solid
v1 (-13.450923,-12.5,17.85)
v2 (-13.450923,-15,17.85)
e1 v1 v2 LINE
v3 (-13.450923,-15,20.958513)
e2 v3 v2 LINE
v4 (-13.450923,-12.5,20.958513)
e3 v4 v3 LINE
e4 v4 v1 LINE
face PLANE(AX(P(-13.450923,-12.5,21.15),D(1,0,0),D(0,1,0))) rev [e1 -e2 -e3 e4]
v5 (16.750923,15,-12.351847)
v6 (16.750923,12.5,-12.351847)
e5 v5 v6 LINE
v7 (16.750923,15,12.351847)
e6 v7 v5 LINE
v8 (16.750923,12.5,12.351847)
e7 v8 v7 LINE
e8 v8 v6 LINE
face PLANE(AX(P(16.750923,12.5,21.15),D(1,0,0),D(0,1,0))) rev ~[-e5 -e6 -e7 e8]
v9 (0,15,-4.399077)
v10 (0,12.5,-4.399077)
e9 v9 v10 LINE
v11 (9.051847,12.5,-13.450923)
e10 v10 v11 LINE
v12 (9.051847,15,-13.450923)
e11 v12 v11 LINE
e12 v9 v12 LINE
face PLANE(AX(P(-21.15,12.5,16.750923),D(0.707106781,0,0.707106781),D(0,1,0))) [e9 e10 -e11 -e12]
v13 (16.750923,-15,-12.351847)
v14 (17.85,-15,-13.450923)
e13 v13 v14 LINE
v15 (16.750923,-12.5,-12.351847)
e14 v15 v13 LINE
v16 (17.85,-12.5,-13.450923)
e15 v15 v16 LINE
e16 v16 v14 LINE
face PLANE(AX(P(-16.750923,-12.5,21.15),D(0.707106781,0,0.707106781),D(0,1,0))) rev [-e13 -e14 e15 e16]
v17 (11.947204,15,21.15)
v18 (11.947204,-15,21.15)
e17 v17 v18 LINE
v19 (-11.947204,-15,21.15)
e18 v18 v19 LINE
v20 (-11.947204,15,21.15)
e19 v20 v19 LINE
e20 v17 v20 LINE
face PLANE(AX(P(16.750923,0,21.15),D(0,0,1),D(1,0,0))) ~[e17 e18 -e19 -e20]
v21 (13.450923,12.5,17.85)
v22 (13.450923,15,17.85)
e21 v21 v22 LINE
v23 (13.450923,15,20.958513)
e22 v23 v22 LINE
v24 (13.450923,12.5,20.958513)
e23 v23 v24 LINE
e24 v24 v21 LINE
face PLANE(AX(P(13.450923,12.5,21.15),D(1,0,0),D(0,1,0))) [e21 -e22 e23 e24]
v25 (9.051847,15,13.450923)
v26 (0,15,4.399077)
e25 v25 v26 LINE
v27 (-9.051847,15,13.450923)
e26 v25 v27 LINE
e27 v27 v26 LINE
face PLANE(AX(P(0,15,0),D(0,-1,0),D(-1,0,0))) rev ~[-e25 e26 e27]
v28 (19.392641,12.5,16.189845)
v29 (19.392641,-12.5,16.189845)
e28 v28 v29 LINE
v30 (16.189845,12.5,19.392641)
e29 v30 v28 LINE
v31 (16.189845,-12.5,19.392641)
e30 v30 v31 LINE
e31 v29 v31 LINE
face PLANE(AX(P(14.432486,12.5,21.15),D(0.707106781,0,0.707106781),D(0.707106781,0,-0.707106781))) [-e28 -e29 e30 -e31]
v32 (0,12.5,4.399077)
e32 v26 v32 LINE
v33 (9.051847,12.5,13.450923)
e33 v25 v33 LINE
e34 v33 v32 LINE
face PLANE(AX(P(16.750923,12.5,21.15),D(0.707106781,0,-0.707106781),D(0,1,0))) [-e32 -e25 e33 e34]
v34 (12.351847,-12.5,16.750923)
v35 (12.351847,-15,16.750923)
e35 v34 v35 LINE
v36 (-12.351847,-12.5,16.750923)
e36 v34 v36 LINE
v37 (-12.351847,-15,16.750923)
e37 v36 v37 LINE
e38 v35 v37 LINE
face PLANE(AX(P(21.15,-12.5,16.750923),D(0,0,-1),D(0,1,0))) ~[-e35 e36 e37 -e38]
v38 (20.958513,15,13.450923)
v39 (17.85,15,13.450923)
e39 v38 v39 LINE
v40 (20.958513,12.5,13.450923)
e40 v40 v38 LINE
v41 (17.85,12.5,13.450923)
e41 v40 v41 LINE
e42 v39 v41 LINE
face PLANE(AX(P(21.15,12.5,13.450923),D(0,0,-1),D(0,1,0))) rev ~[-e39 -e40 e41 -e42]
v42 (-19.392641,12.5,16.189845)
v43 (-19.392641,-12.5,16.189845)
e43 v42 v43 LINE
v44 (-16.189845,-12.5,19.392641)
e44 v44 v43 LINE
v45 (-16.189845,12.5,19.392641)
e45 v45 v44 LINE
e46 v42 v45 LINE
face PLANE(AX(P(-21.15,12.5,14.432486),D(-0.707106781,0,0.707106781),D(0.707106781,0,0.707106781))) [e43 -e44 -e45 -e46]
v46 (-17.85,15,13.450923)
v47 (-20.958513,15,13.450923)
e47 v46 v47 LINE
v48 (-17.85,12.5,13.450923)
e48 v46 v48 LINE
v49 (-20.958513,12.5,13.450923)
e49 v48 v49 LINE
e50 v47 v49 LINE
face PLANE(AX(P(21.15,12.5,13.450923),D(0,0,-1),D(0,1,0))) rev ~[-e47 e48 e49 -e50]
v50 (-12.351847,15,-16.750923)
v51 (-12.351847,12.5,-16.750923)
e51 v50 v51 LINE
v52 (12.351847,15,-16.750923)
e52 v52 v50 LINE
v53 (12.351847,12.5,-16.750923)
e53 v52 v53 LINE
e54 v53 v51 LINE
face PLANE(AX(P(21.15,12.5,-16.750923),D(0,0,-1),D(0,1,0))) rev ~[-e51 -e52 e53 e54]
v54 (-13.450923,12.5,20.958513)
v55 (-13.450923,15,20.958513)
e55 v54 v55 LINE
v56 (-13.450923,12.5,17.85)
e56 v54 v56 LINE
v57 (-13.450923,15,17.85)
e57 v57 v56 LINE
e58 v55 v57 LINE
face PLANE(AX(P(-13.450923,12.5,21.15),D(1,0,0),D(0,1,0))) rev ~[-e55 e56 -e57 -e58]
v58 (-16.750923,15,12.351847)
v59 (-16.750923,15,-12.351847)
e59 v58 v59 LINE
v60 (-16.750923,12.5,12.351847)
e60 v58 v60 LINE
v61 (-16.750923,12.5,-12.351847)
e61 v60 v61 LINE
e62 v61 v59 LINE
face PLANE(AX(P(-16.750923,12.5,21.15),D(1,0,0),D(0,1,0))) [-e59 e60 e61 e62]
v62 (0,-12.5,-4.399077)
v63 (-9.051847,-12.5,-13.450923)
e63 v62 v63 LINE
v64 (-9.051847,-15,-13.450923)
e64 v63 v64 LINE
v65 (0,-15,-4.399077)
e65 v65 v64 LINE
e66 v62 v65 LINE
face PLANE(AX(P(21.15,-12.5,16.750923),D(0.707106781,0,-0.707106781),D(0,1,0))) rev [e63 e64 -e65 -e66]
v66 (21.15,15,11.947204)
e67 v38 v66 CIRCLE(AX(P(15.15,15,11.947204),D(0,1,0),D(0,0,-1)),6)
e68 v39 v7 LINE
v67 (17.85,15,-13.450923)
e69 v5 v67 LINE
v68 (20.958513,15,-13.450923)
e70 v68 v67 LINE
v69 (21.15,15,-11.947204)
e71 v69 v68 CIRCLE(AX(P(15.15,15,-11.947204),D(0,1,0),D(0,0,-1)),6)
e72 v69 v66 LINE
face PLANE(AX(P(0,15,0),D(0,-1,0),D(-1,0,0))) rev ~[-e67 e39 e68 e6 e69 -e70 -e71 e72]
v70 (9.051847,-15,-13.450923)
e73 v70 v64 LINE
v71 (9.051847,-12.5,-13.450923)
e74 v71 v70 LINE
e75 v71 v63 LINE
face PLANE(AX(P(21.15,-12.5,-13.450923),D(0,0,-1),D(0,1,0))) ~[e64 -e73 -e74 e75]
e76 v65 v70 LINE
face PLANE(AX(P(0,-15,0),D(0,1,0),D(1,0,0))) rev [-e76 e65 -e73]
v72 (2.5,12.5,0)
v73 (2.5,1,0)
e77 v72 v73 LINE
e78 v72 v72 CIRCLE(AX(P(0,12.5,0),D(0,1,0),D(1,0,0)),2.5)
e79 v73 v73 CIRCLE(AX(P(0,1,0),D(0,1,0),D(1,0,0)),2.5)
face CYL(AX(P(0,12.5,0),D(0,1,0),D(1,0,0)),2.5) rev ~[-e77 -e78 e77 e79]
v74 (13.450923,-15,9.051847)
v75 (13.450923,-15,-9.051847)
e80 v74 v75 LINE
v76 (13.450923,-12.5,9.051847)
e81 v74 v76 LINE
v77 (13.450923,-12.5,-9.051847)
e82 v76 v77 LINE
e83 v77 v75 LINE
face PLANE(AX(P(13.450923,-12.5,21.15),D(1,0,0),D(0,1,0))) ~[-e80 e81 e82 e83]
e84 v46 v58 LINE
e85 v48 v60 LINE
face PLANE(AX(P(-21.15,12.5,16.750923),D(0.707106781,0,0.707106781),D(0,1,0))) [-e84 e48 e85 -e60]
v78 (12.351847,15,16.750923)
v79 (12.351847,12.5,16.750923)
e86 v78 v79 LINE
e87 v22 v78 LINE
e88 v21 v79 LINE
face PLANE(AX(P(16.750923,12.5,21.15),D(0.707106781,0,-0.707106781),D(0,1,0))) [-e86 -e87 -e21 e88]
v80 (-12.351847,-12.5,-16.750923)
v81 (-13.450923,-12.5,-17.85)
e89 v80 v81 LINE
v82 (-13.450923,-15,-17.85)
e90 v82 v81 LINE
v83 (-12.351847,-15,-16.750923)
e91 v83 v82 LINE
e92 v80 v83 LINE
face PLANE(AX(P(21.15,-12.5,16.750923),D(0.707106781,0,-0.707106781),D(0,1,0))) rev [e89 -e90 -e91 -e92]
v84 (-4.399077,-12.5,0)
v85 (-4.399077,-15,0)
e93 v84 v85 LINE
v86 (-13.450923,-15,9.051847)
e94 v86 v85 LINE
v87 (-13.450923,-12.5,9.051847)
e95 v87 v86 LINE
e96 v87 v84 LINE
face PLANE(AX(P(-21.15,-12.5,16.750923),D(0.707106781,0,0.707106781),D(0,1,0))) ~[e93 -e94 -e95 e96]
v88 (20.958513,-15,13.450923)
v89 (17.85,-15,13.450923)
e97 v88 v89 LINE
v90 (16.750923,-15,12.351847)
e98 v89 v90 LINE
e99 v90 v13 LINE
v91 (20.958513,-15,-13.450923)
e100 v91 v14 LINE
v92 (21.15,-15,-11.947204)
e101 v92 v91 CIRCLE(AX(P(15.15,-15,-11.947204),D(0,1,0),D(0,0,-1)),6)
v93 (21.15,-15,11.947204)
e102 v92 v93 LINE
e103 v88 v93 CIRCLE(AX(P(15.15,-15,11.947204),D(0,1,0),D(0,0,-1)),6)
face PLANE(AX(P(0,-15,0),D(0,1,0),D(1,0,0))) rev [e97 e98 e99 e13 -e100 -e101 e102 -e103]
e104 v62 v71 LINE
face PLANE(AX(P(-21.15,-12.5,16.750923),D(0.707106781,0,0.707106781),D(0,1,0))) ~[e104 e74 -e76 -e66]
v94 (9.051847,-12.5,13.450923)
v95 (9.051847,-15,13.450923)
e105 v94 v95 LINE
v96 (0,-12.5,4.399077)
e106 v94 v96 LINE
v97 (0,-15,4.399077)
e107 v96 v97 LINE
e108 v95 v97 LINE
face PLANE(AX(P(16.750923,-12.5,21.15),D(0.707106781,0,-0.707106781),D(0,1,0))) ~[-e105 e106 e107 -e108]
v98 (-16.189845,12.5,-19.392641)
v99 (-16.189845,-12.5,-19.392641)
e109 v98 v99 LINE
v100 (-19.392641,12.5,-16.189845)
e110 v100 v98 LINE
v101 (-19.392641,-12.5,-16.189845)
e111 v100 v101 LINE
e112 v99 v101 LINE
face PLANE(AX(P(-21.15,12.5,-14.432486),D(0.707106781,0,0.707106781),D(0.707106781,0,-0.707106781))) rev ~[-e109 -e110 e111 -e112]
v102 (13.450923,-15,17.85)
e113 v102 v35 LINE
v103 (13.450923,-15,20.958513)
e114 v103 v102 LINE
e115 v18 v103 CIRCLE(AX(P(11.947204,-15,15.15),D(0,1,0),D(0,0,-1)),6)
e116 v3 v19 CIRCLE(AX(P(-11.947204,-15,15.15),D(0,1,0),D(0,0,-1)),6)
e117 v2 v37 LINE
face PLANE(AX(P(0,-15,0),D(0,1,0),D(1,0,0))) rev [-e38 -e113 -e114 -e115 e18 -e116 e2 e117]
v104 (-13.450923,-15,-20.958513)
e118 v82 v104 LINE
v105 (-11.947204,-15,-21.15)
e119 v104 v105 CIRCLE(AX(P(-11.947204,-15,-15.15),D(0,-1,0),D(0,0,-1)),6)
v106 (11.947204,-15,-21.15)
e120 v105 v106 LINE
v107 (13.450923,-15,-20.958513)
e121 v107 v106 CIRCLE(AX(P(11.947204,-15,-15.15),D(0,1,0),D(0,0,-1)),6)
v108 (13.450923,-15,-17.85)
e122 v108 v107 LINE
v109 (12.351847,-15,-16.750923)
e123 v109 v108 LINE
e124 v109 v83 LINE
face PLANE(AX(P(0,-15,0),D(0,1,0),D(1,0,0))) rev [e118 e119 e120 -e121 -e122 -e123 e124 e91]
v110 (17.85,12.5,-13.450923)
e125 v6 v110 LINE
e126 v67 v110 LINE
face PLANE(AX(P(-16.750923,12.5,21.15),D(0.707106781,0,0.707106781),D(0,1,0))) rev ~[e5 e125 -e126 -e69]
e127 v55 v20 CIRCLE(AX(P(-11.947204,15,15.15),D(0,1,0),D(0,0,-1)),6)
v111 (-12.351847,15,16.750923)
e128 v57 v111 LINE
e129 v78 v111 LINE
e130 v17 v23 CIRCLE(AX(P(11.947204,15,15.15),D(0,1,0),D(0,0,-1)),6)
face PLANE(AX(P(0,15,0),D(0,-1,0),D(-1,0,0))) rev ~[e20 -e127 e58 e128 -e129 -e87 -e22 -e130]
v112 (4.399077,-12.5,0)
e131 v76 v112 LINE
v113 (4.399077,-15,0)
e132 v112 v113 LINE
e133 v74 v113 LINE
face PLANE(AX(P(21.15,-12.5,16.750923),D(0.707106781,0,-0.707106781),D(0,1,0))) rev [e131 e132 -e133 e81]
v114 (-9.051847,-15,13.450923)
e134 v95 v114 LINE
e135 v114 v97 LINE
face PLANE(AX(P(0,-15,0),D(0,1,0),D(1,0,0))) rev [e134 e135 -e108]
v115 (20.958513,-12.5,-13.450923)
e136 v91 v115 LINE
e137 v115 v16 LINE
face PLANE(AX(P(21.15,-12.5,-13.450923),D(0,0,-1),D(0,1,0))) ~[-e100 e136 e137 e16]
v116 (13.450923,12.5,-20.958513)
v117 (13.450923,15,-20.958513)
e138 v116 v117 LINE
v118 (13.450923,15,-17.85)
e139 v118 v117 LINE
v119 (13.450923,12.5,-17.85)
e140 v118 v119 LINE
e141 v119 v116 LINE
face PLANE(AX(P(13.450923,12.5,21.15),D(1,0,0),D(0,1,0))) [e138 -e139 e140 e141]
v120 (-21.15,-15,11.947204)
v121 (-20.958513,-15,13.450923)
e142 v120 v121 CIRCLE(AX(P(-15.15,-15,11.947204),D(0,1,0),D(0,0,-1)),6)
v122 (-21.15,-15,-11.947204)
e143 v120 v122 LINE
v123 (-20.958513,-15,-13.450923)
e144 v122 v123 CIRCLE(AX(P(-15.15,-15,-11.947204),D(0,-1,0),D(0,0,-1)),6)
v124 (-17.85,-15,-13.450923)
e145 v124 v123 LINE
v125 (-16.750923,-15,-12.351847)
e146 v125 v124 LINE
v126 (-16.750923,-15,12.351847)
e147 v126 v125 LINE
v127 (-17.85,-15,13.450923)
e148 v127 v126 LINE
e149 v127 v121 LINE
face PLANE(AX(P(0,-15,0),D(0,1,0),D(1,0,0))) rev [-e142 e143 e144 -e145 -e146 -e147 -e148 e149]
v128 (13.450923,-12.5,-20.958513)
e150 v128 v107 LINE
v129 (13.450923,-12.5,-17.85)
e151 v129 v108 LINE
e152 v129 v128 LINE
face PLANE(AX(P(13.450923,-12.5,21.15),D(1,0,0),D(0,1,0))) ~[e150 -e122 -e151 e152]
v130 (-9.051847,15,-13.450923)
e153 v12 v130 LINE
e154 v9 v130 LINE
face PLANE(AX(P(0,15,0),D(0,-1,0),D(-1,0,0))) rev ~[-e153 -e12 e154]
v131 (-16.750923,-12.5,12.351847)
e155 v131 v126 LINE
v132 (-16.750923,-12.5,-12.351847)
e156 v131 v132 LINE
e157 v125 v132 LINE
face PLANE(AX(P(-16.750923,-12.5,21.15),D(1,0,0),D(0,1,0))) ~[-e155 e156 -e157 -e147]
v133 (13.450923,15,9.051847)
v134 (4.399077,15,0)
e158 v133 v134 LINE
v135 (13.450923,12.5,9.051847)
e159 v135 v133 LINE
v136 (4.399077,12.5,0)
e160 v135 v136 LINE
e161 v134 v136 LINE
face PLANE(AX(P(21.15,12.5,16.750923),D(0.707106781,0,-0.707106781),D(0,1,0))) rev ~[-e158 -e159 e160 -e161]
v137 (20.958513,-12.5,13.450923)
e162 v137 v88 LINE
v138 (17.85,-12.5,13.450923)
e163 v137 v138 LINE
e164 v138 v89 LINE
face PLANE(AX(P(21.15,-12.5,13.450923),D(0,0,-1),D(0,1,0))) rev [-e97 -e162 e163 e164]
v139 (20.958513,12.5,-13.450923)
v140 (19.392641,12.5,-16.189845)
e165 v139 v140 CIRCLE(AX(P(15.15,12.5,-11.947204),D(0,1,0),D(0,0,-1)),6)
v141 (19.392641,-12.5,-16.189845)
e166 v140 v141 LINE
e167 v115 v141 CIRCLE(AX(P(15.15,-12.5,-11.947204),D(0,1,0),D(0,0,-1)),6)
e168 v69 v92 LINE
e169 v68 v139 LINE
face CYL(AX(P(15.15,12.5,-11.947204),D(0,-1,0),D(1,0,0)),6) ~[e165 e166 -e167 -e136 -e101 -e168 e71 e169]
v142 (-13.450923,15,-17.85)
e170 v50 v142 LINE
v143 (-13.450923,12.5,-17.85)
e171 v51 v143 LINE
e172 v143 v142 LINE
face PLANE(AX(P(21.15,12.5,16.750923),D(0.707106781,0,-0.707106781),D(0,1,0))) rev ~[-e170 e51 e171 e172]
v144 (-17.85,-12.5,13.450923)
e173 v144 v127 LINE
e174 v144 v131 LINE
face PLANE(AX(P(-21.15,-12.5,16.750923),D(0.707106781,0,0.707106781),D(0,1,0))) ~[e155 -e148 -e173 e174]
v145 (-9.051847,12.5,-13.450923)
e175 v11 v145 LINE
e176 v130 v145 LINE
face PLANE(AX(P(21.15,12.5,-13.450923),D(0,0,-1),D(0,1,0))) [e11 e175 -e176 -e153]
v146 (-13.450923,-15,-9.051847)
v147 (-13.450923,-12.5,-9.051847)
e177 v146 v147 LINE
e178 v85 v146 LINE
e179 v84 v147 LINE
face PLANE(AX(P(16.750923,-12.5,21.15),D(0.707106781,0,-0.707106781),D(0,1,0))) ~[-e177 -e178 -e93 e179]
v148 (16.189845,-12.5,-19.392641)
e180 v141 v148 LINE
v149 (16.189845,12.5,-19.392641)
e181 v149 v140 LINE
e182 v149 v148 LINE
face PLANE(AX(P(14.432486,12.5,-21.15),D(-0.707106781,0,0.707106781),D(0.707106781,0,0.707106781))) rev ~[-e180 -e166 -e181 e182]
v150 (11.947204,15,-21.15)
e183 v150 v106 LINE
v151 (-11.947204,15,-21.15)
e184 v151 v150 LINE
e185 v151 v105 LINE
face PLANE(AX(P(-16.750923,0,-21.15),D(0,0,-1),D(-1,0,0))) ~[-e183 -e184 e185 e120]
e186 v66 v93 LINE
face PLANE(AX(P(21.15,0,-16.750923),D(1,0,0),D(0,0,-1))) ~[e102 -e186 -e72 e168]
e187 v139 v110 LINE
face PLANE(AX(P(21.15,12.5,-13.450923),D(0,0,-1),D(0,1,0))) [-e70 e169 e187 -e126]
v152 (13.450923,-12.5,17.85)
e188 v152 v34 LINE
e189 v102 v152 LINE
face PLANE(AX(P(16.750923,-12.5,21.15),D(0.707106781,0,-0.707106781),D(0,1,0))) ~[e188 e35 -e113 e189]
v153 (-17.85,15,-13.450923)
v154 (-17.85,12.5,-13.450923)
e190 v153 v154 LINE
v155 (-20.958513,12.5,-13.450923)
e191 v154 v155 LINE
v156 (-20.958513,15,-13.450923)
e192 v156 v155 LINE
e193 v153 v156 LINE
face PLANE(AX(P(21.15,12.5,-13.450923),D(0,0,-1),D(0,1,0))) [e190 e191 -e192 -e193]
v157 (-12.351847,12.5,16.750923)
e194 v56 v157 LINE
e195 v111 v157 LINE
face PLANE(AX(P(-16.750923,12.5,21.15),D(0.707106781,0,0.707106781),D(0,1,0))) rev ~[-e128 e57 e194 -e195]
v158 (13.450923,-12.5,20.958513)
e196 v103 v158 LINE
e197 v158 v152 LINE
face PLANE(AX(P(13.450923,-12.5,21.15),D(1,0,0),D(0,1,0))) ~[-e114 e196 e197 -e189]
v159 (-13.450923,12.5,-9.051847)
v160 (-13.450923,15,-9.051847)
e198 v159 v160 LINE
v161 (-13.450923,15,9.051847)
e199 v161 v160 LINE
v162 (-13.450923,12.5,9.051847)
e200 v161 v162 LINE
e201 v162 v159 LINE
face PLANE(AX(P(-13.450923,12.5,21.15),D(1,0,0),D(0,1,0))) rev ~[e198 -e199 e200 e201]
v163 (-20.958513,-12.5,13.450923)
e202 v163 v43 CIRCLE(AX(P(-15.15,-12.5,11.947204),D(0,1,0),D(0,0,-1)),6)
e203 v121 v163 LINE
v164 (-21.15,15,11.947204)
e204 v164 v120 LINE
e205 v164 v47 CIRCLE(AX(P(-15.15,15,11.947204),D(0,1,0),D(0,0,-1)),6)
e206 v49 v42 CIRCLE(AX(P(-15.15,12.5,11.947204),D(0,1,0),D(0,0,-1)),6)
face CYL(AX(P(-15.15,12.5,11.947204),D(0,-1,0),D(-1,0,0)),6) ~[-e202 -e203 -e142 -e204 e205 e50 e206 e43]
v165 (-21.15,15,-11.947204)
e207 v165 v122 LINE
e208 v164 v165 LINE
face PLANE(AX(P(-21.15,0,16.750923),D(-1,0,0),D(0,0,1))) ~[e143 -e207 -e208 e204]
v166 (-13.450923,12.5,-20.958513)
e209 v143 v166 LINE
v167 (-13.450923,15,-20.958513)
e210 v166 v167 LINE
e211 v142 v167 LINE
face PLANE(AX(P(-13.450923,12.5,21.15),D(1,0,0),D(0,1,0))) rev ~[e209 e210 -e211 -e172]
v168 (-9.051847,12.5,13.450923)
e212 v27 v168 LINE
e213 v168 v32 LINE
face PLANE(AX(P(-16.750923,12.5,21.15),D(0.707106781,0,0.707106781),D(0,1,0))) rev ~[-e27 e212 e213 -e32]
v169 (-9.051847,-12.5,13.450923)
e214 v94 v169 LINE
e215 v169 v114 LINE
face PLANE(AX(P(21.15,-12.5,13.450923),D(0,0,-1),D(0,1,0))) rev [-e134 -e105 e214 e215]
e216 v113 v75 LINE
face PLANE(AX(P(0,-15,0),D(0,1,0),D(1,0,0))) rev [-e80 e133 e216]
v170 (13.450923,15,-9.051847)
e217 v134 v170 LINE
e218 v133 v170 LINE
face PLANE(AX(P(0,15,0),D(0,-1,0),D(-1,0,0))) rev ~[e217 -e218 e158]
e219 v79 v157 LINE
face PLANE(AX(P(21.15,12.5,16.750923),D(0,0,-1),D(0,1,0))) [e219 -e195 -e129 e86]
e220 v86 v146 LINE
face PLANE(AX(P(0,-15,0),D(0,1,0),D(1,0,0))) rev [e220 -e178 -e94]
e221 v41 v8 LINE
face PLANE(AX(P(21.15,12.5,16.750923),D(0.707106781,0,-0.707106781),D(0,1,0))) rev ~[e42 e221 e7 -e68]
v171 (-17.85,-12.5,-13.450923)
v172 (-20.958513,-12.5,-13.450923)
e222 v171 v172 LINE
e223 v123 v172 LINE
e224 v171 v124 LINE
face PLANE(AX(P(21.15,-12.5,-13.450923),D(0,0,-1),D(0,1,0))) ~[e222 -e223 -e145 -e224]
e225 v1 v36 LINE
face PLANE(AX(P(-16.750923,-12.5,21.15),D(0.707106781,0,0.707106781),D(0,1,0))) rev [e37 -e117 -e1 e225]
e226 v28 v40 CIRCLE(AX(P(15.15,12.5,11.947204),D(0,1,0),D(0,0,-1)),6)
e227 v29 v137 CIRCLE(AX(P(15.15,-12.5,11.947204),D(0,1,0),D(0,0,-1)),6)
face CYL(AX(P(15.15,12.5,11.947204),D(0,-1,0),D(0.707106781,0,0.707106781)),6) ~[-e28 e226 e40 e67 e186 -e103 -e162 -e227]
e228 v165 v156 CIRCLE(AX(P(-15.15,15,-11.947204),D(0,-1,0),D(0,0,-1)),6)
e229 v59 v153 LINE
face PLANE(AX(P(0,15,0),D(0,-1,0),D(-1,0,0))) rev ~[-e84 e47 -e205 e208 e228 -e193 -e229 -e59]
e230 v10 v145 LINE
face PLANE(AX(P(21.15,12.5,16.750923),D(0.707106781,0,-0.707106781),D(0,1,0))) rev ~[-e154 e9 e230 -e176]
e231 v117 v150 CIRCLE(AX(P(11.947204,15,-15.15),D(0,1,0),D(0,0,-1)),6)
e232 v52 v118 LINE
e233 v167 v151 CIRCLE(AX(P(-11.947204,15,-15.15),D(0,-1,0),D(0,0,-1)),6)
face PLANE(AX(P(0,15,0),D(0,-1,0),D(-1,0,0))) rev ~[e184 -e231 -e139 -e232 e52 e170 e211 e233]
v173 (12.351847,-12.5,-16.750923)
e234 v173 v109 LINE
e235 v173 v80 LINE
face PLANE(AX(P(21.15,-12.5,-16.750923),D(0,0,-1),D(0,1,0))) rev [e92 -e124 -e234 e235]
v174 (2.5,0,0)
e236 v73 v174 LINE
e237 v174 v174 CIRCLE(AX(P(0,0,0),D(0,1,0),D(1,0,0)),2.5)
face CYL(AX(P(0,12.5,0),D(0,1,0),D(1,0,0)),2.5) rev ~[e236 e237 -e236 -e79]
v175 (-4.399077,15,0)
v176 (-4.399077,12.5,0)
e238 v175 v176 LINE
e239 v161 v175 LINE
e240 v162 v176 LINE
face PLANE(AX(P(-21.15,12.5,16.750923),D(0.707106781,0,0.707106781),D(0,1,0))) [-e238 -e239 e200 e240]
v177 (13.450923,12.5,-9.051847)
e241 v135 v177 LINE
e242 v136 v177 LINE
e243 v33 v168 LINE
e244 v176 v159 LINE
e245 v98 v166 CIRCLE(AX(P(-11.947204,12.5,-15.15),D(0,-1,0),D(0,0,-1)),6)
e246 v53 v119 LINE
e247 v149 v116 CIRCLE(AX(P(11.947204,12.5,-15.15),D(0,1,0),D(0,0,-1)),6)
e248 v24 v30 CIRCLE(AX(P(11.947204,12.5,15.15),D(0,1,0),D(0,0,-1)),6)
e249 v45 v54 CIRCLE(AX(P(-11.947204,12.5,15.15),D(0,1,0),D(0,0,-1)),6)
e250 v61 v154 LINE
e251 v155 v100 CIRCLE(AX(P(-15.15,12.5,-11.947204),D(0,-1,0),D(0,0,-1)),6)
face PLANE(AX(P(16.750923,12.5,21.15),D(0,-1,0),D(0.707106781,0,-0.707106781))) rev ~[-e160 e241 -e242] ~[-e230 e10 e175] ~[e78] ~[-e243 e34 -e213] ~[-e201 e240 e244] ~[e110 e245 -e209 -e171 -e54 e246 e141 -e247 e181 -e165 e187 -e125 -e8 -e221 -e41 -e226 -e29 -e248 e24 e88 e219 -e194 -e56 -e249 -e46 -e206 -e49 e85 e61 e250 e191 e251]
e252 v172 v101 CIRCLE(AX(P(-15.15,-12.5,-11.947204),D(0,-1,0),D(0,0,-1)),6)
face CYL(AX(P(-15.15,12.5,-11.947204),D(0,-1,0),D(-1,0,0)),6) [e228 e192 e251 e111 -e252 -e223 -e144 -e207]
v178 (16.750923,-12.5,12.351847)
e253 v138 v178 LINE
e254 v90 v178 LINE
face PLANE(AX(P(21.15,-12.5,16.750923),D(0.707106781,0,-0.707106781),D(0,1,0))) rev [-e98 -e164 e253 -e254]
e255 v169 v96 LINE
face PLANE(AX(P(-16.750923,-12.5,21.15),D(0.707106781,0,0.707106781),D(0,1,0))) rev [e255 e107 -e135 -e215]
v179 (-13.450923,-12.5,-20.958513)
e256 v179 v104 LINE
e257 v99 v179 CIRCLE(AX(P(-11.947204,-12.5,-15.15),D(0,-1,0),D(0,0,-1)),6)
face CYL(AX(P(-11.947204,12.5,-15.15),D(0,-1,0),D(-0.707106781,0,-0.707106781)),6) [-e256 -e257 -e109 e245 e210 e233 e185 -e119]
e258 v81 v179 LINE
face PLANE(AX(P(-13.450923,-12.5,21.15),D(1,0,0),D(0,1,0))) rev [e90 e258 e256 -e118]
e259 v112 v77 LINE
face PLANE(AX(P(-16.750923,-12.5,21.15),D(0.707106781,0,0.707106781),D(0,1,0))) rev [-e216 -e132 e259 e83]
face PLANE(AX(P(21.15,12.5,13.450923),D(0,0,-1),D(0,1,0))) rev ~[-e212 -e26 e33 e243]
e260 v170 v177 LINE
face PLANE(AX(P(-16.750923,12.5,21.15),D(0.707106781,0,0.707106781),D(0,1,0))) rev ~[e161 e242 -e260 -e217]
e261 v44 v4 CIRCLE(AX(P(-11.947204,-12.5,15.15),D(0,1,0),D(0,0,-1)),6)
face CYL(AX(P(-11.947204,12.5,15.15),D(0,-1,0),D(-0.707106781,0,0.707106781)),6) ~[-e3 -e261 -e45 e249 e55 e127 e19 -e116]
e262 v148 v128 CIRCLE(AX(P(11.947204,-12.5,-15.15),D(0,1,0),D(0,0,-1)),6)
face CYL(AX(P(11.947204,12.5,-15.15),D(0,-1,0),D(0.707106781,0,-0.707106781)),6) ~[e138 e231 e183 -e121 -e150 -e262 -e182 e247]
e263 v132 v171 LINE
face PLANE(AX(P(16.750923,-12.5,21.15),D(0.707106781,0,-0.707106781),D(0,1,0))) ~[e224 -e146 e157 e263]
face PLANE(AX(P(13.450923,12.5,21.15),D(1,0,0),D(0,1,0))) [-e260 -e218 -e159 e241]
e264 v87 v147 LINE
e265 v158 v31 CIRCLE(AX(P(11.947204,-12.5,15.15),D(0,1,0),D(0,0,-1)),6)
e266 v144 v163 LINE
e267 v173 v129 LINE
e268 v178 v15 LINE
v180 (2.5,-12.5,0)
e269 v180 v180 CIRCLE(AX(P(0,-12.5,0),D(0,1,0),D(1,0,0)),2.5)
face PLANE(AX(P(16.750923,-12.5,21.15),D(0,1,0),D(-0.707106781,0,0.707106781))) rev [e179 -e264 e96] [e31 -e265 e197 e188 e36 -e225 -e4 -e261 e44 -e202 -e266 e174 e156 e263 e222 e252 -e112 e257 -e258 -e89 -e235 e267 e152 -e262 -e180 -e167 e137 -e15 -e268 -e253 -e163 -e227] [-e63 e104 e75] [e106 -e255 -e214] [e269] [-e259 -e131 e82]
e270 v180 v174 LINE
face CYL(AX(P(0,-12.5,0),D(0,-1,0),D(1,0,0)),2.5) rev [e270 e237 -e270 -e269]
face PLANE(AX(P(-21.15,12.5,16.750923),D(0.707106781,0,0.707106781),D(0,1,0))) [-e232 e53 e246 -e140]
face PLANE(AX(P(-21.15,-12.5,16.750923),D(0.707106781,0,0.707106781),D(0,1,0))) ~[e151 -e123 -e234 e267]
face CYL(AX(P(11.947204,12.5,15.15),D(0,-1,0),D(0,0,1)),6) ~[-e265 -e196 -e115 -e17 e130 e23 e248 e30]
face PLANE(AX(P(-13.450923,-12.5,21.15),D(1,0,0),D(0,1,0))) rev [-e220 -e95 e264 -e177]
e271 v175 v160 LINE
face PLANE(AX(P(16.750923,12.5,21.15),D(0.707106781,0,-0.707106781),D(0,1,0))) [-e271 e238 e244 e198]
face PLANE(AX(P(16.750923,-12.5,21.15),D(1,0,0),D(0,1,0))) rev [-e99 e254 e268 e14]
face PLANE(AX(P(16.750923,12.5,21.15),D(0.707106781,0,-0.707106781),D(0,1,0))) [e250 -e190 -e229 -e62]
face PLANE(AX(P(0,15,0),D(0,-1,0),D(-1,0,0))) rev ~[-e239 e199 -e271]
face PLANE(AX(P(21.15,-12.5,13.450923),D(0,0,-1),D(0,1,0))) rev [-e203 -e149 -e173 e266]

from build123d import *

# Parameters (mm, degrees)
BOSS_EXTRUDE1_DEPTH = 15
SKETCH18_W          = 3.3
SKETCH18_H          = 2.5
CUT_EXTRUDE10_DEPTH = 43.3
SKETCH19_W          = 3.3
SKETCH19_H          = 2.5
CUT_EXTRUDE11_DEPTH = 43.3
SKETCH20_W          = 6.221233688
SKETCH20_H          = 2.5
CUT_EXTRUDE12_DEPTH = 57.710616844
SKETCH21_W          = 6.221233688
SKETCH21_H          = 2.5
CUT_EXTRUDE13_DEPTH = 57.710616844
SKETCH22_R          = 2.5
CUT_EXTRUDE14_DEPTH = 13.5
CUT_EXTRUDE15_DEPTH = 28.5
FILLET8_R           = 6


with BuildPart() as part:
    # Sketch1 → Boss-Extrude1 (new body)
    with BuildSketch(Plane(origin=(0, 0, 0), x_dir=(1, 0, 0), z_dir=(0, 1, 0))):
        Polygon((-21.15, 16.750923472), (-16.750923472, 21.15), (16.750923472, 21.15), (21.15, 16.750923472), (21.15, -16.750923472), (16.750923472, -21.15), (-16.750923472, -21.15), (-21.15, -16.750923472), align=None)
    boss_extrude1 = extrude(amount=BOSS_EXTRUDE1_DEPTH)

    # Sketch18 → Cut-Extrude10 (cut, through all)
    with BuildSketch(Plane.XY.offset(21.15)):
        with Locations((15.100923472, 13.75)):
            Rectangle(SKETCH18_W, SKETCH18_H)
        with Locations((-15.100923472, 13.75)):
            Rectangle(SKETCH18_W, SKETCH18_H)
    cut_extrude10 = extrude(amount=-CUT_EXTRUDE10_DEPTH, mode=Mode.SUBTRACT)

    # Sketch19 → Cut-Extrude11 (cut, through all)
    with BuildSketch(Plane(origin=(21.15, 0, 0), x_dir=(0, 0, -1), z_dir=(1, 0, 0))):
        with Locations((-15.100923472, 13.75)):
            Rectangle(SKETCH19_W, SKETCH19_H)
        with Locations((15.100923472, 13.75)):
            Rectangle(SKETCH19_W, SKETCH19_H)
    cut_extrude11 = extrude(amount=-CUT_EXTRUDE11_DEPTH, mode=Mode.SUBTRACT)

    # Sketch20 → Cut-Extrude12 (cut, through all)
    with BuildSketch(Plane(origin=(18.950461736, 0, 18.950461736), x_dir=(0.707106781, 0, -0.707106781), z_dir=(0.707106781, 0, 0.707106781))):
        with Locations((0, 13.75)):
            Rectangle(SKETCH20_W, SKETCH20_H)
    cut_extrude12 = extrude(amount=-CUT_EXTRUDE12_DEPTH, mode=Mode.SUBTRACT)

    # Sketch21 → Cut-Extrude13 (cut, through all)
    with BuildSketch(Plane(origin=(-18.950461736, 0, 18.950461736), x_dir=(0.707106781, 0, 0.707106781), z_dir=(-0.707106781, 0, 0.707106781))):
        with Locations((0, 13.75)):
            Rectangle(SKETCH21_W, SKETCH21_H)
    cut_extrude13 = extrude(amount=-CUT_EXTRUDE13_DEPTH, mode=Mode.SUBTRACT)

    # Sketch22 → Cut-Extrude14 (cut, through all)
    with BuildSketch(Plane(origin=(0, 12.5, 0), x_dir=(1, 0, 0), z_dir=(0, 1, 0))):
        Circle(SKETCH22_R)
    cut_extrude14 = extrude(amount=-CUT_EXTRUDE14_DEPTH, mode=Mode.SUBTRACT)

    # Mirror1: Boss-Extrude1, Cut-Extrude10, Cut-Extrude11, Cut-Extrude12, Cut-Extrude13, Cut-Extrude14 across plane
    add(boss_extrude1.mirror(Plane(origin=(0, 0, 0), x_dir=(0, 0, 1), z_dir=(0, -1, 0))))
    add(cut_extrude10.mirror(Plane(origin=(0, 0, 0), x_dir=(0, 0, 1), z_dir=(0, -1, 0))), mode=Mode.SUBTRACT)
    add(cut_extrude11.mirror(Plane(origin=(0, 0, 0), x_dir=(0, 0, 1), z_dir=(0, -1, 0))), mode=Mode.SUBTRACT)
    add(cut_extrude12.mirror(Plane(origin=(0, 0, 0), x_dir=(0, 0, 1), z_dir=(0, -1, 0))), mode=Mode.SUBTRACT)
    add(cut_extrude13.mirror(Plane(origin=(0, 0, 0), x_dir=(0, 0, 1), z_dir=(0, -1, 0))), mode=Mode.SUBTRACT)
    add(cut_extrude14.mirror(Plane(origin=(0, 0, 0), x_dir=(0, 0, 1), z_dir=(0, -1, 0))), mode=Mode.SUBTRACT)

    # Sketch23 → Cut-Extrude15 (cut, through all)
    with BuildSketch(Plane(origin=(0, 12.5, 0), x_dir=(1, 0, 0), z_dir=(0, 1, 0))):
        Polygon((-21.15, -14.432485579), (-14.432485579, -21.15), (-16.750923472, -21.15), (-21.15, -16.750923472), align=None)
        Polygon((-21.15, 14.432485579), (-14.432485579, 21.15), (-16.750923472, 21.15), (-21.15, 16.750923472), align=None)
        Polygon((14.432485579, 21.15), (21.15, 14.432485579), (21.15, 16.750923472), (16.750923472, 21.15), align=None)
        Polygon((14.432485579, -21.15), (21.15, -14.432485579), (21.15, -16.750923472), (16.750923472, -21.15), align=None)
    extrude(amount=-CUT_EXTRUDE15_DEPTH, mode=Mode.SUBTRACT)

    # Fillet8
    fillet8_edges = [part.edges().sort_by_distance(p)[0] for p in [
        (14.432485579, 0, -21.15),
        (21.15, 0, -14.432485579),
        (-21.15, 0, -14.432485579),
        (-14.432485579, 0, -21.15),
        (-14.432485579, 0, 21.15),
        (-21.15, 0, 14.432485579),
        (21.15, 0, 14.432485579),
        (14.432485579, 0, 21.15),
    ]]
    fillet(fillet8_edges, radius=FILLET8_R)


solid = part.part
